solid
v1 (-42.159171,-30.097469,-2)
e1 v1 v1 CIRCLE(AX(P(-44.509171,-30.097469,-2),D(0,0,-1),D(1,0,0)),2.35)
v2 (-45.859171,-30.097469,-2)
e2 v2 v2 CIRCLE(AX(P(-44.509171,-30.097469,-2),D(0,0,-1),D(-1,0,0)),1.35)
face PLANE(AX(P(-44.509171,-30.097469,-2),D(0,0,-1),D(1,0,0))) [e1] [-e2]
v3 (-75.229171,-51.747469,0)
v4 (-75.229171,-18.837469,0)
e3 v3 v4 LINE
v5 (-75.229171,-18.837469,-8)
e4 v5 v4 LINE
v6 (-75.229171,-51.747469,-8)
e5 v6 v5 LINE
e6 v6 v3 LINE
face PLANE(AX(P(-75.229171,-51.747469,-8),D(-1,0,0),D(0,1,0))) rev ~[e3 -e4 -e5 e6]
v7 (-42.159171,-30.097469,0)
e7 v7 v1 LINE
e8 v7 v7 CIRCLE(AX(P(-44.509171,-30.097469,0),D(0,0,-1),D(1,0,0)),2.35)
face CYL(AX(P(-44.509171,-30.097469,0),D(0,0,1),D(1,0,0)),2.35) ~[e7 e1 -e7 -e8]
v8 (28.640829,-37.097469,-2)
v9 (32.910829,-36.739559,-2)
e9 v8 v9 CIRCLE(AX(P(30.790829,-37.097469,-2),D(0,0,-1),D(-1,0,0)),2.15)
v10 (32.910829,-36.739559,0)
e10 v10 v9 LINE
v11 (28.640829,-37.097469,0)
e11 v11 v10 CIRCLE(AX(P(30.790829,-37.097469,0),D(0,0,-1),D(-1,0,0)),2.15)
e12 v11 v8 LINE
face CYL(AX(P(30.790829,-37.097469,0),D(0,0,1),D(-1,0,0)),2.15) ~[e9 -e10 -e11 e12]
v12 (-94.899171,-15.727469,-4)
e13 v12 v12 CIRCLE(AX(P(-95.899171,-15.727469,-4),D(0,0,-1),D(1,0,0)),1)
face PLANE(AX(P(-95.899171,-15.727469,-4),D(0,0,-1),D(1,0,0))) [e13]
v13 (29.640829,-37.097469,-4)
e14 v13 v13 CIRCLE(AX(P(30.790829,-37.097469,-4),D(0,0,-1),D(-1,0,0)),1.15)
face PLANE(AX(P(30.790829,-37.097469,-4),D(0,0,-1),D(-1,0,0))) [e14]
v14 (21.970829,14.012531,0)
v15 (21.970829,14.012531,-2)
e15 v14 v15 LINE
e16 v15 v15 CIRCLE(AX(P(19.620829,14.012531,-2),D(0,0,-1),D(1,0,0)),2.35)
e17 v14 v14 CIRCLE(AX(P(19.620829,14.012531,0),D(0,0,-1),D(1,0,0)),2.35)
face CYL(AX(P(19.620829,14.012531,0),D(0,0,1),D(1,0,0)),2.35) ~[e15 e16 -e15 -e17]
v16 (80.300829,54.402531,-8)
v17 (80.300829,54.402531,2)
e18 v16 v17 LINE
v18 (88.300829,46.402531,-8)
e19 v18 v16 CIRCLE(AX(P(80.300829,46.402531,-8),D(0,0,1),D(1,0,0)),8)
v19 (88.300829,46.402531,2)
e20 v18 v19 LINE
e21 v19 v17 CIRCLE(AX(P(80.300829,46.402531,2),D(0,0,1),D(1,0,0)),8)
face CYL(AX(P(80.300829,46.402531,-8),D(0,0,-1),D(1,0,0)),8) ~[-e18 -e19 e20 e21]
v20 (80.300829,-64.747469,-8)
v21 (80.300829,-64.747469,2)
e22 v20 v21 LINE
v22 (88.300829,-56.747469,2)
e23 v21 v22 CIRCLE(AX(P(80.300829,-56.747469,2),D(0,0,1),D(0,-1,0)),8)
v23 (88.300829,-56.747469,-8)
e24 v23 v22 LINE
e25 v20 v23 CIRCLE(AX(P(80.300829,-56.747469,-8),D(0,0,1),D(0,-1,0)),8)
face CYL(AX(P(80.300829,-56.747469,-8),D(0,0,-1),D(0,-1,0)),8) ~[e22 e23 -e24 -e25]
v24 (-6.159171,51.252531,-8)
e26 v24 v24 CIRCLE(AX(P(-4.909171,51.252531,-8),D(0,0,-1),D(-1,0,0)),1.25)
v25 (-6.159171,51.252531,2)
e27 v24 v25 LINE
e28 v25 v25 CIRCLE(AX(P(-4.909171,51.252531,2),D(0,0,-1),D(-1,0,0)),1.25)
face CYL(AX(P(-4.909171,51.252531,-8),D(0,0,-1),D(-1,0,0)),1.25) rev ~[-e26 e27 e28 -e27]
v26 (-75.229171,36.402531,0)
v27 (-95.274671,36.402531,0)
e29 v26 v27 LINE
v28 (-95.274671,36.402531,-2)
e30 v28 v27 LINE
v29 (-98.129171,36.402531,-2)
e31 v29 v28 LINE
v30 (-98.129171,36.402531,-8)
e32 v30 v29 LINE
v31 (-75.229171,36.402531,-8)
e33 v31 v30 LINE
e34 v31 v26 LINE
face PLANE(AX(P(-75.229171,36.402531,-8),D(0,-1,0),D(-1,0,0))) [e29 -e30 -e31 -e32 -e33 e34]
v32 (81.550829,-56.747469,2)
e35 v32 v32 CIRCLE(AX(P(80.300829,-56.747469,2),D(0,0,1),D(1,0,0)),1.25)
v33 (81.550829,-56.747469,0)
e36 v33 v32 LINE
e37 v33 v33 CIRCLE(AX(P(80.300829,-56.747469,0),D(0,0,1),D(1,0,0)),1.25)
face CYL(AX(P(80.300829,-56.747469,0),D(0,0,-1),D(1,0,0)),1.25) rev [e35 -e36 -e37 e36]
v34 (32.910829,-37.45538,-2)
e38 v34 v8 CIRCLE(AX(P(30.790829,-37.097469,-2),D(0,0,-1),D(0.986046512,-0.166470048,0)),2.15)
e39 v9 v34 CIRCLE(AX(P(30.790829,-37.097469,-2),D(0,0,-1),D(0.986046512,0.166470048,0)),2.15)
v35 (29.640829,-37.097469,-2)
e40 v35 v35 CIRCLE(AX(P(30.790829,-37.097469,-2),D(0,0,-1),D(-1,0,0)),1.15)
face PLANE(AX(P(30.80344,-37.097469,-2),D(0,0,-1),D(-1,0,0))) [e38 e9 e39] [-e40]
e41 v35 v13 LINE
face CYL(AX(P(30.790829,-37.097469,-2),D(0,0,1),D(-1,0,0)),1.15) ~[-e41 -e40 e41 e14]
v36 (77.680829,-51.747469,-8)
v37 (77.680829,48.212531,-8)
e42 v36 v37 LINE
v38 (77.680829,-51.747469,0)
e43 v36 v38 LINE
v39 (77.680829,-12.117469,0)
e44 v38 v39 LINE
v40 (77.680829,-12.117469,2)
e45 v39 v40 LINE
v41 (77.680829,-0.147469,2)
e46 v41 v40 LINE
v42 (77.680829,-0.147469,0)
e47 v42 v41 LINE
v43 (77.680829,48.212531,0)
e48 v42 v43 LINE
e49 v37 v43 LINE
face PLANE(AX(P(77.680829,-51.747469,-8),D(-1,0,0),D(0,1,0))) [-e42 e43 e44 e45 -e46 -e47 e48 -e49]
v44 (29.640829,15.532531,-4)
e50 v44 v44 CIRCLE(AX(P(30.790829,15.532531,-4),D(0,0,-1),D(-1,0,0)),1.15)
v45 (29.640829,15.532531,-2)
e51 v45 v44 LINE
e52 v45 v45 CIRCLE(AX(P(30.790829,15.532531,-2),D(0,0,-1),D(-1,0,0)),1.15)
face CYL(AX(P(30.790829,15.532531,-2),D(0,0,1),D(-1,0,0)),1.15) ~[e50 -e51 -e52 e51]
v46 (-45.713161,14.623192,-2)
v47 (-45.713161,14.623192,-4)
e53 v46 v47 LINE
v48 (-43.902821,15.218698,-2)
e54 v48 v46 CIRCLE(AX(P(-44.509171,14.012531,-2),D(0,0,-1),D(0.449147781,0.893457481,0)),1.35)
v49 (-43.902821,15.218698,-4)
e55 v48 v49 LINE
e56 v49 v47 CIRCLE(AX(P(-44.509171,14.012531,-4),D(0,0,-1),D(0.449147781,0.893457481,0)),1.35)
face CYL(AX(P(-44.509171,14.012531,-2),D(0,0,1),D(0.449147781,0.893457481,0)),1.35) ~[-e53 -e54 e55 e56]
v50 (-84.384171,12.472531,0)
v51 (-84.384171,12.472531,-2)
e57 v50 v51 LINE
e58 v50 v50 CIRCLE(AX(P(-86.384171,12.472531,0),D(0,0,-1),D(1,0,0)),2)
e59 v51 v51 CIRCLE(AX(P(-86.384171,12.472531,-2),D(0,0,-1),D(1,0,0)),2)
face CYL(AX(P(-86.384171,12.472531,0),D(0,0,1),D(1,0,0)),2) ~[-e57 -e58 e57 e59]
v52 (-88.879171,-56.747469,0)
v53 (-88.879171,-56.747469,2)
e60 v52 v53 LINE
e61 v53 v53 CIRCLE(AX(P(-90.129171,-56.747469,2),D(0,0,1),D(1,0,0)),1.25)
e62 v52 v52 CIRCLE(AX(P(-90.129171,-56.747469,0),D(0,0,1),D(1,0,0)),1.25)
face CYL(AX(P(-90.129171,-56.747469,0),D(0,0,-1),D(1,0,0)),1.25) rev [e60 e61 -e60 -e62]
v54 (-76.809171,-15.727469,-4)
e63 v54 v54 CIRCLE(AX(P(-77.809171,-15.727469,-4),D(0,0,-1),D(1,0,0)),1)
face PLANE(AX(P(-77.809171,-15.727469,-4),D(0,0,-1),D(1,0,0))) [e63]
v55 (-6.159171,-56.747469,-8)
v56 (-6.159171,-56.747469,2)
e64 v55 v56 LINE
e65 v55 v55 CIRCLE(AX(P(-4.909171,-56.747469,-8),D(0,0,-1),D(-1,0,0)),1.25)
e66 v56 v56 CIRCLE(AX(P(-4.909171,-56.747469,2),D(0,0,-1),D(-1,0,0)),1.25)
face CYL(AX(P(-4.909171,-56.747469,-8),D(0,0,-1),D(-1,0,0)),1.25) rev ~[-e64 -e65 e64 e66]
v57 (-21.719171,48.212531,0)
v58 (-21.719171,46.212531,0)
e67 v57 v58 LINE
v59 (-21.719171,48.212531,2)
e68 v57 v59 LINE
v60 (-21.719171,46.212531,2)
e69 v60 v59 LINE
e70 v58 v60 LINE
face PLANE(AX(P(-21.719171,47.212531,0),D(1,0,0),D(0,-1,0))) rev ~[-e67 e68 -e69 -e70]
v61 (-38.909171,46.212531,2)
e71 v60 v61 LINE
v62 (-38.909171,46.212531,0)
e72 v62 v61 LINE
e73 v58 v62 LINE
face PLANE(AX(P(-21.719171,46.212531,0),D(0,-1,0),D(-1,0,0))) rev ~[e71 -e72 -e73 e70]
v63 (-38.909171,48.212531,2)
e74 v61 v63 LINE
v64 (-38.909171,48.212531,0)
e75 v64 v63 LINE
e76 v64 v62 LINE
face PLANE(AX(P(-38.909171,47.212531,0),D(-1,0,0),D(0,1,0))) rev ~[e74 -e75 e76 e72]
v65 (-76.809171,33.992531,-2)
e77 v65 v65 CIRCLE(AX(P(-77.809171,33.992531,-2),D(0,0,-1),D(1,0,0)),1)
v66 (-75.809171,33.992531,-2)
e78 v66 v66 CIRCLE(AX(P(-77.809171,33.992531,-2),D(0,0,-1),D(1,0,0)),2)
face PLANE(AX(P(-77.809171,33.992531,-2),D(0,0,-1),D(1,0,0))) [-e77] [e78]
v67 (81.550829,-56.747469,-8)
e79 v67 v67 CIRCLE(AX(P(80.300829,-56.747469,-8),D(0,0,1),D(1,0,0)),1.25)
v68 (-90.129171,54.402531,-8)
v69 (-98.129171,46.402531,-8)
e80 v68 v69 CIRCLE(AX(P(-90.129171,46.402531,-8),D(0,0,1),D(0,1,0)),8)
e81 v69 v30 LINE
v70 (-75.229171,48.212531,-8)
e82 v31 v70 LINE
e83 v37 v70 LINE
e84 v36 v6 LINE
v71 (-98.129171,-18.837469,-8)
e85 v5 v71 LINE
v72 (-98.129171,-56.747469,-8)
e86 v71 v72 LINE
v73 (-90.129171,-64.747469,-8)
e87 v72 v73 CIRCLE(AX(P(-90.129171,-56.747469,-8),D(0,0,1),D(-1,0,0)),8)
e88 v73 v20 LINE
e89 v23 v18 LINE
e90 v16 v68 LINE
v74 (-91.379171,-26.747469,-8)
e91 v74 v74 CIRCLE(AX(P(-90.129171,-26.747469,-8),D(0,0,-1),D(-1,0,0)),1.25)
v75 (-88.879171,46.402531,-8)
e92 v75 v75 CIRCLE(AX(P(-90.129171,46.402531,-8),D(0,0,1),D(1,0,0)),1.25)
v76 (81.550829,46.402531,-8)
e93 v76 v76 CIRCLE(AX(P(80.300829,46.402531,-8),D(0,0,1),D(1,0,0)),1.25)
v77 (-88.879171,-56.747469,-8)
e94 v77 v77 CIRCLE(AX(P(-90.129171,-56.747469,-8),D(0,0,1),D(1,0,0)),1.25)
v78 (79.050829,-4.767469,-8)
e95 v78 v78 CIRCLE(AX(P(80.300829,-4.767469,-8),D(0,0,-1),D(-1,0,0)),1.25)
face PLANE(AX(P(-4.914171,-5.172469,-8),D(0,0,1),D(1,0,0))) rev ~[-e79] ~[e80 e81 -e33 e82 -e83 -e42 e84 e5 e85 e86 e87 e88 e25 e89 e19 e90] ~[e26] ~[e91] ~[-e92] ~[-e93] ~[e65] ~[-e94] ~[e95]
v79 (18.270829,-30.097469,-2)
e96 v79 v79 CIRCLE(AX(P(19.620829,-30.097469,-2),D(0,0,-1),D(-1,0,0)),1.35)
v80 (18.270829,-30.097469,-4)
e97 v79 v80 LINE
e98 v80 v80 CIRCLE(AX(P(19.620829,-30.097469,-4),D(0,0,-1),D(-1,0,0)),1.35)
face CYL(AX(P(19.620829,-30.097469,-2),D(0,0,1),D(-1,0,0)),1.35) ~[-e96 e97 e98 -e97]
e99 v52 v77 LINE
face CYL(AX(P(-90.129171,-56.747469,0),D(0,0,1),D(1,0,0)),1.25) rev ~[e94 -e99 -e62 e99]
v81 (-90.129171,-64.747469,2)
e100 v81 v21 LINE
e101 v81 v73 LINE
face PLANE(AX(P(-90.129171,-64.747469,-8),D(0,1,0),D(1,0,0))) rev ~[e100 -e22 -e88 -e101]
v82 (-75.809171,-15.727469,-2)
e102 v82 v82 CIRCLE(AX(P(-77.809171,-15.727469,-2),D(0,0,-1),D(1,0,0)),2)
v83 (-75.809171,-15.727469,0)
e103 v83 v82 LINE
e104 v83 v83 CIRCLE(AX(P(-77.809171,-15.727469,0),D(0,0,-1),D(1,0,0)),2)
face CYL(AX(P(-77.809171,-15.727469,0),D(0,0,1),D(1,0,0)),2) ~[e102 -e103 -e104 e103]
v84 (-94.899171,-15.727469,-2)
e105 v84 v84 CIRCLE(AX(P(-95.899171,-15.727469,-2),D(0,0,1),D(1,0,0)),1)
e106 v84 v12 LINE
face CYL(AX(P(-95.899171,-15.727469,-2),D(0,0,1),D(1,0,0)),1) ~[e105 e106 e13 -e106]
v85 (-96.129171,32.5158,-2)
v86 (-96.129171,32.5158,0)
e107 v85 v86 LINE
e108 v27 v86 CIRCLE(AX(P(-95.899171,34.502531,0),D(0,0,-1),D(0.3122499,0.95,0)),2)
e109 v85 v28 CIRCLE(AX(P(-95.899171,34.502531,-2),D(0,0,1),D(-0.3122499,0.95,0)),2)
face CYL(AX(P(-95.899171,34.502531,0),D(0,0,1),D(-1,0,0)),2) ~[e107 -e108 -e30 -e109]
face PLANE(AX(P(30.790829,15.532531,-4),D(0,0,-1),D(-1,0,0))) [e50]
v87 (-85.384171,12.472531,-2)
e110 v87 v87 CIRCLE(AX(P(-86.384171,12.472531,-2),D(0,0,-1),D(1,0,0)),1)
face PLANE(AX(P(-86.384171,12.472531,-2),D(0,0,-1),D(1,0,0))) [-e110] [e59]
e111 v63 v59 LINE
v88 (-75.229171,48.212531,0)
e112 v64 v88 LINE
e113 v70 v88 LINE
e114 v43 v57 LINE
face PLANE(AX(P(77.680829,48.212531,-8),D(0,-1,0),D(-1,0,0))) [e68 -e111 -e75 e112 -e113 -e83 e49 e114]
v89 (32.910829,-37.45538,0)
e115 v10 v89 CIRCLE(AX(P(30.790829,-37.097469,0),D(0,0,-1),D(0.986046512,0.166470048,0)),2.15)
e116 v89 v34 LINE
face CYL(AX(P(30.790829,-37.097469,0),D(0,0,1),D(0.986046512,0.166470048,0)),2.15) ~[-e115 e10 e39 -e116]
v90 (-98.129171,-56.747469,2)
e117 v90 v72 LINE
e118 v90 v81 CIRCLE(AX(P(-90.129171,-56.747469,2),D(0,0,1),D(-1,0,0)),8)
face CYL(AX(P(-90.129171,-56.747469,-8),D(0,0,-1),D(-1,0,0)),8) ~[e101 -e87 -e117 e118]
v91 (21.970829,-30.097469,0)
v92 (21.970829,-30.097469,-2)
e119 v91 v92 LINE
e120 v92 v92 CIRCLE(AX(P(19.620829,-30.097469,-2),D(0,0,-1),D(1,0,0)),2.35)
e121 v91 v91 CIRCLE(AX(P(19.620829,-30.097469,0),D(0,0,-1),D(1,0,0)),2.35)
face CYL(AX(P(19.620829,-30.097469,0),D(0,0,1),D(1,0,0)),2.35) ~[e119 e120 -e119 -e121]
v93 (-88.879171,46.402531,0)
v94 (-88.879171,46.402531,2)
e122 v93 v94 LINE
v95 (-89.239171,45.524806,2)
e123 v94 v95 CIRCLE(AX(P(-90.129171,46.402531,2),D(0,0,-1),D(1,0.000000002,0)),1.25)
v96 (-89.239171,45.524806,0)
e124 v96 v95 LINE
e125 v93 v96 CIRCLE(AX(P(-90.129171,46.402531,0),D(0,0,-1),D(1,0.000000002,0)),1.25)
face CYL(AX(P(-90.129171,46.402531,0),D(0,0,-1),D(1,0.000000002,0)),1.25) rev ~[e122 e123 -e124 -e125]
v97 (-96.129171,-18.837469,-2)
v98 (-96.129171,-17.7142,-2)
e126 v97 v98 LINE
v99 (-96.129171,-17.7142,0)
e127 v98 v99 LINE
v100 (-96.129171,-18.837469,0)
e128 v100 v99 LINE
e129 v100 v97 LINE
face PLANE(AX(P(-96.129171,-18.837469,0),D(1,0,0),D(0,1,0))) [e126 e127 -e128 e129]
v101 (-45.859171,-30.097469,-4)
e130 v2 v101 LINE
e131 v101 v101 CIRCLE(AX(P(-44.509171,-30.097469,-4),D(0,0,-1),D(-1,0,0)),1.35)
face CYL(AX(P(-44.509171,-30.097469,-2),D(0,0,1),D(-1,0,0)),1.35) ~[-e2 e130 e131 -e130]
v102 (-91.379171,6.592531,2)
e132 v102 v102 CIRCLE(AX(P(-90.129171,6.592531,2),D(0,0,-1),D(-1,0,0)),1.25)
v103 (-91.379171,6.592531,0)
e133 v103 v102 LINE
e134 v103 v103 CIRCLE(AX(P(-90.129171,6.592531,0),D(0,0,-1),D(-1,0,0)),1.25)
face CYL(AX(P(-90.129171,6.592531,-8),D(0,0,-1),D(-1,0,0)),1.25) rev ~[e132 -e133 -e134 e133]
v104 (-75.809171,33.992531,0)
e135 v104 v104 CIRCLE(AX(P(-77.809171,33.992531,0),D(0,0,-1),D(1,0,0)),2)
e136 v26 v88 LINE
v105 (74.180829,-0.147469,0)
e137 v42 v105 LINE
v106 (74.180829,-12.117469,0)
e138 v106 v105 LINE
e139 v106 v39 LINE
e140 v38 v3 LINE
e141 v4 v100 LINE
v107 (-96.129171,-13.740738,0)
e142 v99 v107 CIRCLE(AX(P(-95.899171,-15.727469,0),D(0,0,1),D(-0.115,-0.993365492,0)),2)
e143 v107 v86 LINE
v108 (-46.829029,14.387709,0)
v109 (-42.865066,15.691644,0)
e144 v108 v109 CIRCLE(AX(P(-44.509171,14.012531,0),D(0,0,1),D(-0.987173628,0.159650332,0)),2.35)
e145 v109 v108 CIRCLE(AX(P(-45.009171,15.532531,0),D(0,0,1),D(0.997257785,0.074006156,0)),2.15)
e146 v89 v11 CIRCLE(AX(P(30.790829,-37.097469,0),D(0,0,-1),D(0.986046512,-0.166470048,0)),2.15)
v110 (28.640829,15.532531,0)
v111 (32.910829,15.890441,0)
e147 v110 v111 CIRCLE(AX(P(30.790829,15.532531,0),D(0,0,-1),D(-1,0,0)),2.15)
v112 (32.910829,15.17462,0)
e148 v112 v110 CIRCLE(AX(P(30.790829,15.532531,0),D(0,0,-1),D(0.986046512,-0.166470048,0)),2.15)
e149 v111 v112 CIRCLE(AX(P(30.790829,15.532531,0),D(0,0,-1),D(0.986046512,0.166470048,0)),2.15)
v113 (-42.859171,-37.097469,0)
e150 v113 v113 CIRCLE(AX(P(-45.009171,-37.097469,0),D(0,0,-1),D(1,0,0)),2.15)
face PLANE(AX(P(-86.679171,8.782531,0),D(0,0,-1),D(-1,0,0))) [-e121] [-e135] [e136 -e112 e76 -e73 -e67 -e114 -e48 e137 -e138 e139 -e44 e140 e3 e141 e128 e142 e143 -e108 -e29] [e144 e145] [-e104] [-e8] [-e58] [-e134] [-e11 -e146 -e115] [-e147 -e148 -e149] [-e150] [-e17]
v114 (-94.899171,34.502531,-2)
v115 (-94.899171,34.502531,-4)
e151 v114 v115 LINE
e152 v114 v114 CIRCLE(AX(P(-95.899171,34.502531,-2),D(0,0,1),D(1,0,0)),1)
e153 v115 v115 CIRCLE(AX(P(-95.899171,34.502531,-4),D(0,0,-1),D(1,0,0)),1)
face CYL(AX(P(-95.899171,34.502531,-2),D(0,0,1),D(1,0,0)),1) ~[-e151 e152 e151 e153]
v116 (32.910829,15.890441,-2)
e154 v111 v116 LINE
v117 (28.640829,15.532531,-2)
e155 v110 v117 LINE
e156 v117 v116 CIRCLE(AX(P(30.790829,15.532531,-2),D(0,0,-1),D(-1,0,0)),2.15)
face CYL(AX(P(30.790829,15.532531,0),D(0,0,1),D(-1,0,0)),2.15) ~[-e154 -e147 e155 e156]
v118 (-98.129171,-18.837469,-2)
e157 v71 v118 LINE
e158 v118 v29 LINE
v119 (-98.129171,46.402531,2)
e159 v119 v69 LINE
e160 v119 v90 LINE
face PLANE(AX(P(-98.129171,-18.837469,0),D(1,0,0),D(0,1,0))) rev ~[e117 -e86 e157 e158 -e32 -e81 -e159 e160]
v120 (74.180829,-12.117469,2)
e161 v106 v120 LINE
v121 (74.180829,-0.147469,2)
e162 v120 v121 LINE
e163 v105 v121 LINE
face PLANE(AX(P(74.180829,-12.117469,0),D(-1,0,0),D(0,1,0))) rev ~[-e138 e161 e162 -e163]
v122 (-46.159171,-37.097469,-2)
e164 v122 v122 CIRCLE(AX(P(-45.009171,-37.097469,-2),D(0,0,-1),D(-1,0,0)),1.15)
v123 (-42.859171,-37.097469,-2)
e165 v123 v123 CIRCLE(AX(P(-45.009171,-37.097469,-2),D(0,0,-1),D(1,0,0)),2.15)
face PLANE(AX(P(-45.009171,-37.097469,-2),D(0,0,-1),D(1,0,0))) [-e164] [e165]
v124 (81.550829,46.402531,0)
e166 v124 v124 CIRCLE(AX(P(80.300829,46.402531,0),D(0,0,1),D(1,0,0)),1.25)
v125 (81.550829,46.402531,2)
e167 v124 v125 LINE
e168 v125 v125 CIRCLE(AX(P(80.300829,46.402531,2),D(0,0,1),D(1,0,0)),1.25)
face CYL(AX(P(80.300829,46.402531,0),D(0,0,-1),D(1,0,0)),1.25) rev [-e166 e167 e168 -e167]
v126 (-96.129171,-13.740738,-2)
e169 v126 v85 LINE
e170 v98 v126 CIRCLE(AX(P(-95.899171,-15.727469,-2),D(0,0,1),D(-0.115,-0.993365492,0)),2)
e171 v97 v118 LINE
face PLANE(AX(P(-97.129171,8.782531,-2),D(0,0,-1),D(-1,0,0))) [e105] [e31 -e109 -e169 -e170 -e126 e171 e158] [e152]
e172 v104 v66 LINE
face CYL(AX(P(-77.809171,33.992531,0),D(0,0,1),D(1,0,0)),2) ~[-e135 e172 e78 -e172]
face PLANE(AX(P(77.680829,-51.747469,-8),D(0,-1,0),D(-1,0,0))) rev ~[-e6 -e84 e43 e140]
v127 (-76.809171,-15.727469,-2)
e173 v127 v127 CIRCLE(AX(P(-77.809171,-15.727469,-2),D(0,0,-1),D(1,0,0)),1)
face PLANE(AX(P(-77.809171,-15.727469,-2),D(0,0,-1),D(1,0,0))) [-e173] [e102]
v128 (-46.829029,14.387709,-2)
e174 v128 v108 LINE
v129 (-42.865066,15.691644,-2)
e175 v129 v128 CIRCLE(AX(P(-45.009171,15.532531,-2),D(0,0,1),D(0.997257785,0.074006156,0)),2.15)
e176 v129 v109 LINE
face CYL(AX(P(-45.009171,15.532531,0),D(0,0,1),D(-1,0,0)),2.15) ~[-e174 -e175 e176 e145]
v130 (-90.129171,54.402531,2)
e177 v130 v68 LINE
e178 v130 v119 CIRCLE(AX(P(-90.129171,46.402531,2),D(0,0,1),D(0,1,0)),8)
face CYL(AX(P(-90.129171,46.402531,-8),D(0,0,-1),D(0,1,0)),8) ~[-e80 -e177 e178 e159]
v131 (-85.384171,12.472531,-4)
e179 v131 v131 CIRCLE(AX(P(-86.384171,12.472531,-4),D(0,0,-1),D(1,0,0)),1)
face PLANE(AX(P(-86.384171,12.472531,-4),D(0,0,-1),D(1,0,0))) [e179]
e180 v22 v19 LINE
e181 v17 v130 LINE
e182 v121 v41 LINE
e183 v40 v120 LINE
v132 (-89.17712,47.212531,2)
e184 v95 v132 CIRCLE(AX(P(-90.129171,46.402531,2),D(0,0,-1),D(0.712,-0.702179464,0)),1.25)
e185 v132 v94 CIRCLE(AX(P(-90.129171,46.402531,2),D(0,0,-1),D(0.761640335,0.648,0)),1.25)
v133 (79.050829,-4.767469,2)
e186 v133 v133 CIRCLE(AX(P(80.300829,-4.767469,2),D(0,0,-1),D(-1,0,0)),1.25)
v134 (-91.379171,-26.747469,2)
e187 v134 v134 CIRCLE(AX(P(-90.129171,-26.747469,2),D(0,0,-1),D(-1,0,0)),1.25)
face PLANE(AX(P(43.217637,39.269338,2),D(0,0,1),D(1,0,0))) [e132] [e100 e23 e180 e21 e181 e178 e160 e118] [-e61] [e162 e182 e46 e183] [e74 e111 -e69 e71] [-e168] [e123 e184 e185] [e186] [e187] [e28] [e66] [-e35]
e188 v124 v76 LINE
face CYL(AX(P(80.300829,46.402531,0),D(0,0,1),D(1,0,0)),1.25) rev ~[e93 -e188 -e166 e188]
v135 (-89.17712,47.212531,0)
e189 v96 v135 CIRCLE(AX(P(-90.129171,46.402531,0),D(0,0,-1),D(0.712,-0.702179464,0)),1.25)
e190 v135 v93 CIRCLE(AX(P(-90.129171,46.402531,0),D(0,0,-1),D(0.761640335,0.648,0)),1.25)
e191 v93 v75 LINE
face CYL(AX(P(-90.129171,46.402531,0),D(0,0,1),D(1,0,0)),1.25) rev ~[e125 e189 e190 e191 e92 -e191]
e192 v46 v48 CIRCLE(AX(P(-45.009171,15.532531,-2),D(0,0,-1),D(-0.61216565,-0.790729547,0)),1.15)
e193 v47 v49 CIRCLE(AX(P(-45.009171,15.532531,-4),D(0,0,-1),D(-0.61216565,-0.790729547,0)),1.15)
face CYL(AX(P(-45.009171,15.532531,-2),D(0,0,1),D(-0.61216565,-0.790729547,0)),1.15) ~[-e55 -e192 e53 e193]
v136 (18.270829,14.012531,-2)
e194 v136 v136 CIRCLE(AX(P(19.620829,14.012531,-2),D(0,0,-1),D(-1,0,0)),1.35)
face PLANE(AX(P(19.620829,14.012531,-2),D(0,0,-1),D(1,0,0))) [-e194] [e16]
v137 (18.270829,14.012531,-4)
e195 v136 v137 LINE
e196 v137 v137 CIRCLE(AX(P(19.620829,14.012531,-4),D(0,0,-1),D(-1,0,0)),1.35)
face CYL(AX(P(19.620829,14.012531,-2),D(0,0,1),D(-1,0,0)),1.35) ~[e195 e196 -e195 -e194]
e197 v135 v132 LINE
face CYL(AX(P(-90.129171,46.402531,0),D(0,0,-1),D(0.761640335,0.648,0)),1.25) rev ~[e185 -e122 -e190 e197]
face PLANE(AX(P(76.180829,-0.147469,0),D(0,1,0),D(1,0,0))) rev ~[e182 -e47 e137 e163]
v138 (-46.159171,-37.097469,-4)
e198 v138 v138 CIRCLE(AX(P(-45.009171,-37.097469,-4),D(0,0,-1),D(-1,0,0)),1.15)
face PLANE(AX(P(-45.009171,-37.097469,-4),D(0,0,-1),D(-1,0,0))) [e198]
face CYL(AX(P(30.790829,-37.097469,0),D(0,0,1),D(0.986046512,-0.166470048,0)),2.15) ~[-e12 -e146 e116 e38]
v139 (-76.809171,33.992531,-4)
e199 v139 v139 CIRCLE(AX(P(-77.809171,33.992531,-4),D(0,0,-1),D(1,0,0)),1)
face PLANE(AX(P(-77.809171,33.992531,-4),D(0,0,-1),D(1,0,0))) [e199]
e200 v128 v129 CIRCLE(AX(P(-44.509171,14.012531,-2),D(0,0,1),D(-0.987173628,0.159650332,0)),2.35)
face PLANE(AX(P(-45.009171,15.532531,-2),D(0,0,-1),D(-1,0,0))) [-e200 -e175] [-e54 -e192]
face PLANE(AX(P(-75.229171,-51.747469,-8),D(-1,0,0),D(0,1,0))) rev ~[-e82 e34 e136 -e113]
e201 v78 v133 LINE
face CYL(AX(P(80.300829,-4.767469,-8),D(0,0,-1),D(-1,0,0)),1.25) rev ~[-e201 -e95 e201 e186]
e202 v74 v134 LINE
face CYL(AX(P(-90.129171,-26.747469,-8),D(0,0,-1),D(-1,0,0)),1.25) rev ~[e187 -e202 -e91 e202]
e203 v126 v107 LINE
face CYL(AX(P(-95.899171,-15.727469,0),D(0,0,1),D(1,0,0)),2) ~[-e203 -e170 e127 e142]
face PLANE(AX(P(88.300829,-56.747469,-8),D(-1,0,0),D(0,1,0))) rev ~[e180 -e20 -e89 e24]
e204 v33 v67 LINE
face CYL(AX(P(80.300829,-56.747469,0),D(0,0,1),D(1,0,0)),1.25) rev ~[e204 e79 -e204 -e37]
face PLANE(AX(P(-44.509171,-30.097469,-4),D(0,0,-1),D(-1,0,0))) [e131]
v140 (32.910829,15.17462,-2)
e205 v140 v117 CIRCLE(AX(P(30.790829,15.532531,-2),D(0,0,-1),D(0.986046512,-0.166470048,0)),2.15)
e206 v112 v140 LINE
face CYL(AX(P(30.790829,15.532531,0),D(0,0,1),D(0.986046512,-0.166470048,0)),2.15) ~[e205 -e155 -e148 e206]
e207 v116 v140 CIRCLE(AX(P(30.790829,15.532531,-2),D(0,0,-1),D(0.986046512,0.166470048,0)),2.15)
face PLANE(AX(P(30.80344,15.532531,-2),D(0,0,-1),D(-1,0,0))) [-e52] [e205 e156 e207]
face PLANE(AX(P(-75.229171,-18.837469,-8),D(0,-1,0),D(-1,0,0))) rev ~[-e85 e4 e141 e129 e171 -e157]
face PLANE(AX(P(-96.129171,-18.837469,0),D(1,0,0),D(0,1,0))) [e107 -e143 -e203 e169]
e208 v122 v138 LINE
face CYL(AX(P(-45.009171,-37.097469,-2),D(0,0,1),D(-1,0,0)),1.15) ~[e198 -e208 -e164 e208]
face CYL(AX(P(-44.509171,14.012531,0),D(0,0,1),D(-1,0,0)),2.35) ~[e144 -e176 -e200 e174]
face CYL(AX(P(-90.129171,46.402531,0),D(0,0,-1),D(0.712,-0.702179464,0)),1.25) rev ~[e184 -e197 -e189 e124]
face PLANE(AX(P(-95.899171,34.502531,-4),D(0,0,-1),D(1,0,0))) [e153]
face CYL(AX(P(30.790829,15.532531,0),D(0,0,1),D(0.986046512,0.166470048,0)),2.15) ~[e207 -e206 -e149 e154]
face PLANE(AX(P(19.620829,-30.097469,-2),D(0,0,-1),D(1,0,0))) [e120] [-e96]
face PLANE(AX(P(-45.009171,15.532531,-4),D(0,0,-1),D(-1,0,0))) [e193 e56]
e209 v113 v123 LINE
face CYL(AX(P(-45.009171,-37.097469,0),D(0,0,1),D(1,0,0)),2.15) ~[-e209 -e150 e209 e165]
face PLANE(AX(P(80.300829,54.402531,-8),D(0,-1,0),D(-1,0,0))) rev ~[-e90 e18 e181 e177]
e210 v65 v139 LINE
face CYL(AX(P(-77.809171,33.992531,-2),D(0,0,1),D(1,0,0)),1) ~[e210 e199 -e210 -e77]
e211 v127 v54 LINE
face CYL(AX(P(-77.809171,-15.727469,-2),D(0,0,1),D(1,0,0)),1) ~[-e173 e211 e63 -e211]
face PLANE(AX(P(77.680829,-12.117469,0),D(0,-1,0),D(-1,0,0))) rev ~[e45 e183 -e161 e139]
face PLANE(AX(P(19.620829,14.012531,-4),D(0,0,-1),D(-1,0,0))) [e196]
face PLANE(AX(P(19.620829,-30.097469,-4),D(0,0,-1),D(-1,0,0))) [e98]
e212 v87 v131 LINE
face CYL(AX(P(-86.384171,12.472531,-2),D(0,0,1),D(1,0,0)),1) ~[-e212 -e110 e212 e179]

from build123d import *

# Parameters (mm, degrees)
SKETCH1_R           = 1.25
SKETCH1_W           = 156.43
SKETCH1_H           = 89.15
BOSS_EXTRUDE3_DEPTH = 2
SKETCH4_R           = 2.15
SKETCH4_R_2         = 1.15
SKETCH4_R_3         = 2.35
SKETCH4_R_4         = 1.35
BOSS_EXTRUDE4_DEPTH = 2
BOSS_EXTRUDE5_START = 2
SKETCH4_3_R         = 1.15
SKETCH4_3_R_2       = 1.35
BOSS_EXTRUDE5_DEPTH = 2
BOSS_EXTRUDE6_START = 8
SKETCH5_W           = 152.91
SKETCH5_H           = 99.96
BOSS_EXTRUDE6_DEPTH = 8
SKETCH7_W           = 22.9
SKETCH7_H           = 55.24
CUT_EXTRUDE3_DEPTH  = 8
BOSS_EXTRUDE7_START = -8
SKETCH7_3_R         = 2
BOSS_EXTRUDE7_DEPTH = 2
BOSS_EXTRUDE8_START = -6
SKETCH7_4_R         = 1
BOSS_EXTRUDE8_DEPTH = 2
SKETCH8_W           = 2
SKETCH8_H           = 55.24
BOSS_EXTRUDE9_DEPTH = 2
SKETCH1_5_R         = 1.25
CUT_EXTRUDE4_DEPTH  = 118.837043793
SKETCH9_R           = 1.25
CUT_EXTRUDE5_DEPTH  = 118.989698237


with BuildPart() as part:
    # Sketch1 → Boss-Extrude3 (new body)
    # profile 1 of 5: a face of its own
    with BuildSketch(Plane.XY):
        with BuildLine():
            ThreePointArc((-90.129170507, 54.402530662), (-95.786024756, 52.059384912), (-98.129170507, 46.402530662))
            Line((-98.129170507, 46.402530662), (-98.129170507, -56.747469338))
            ThreePointArc((-98.129170507, -56.747469338), (-95.786024756, -62.404323587), (-90.129170507, -64.747469338))
            Line((-90.129170507, -64.747469338), (80.300829493, -64.747469338))
            ThreePointArc((80.300829493, -64.747469338), (85.957683743, -62.404323587), (88.300829493, -56.747469338))
            Line((88.300829493, -56.747469338), (88.300829493, 46.402530662))
            ThreePointArc((88.300829493, 46.402530662), (85.957683743, 52.059384912), (80.300829493, 54.402530662))
            Line((80.300829493, 54.402530662), (-90.129170507, 54.402530662))
        make_face()
        with Locations((-90.129170507, -56.747469338)):
            Circle(SKETCH1_R, mode=Mode.SUBTRACT)
        with Locations((80.300829493, -56.747469338)):
            Circle(SKETCH1_R, mode=Mode.SUBTRACT)
        with BuildLine():
            Line((-89.239170507, -53.907469338), (-89.239170507, 45.524806332))
            ThreePointArc((-89.239170507, 45.524806332), (-91.378326538, 46.448456797), (-89.177120088, 47.212530662))
            Line((-89.177120088, 47.212530662), (-38.909170507, 47.212530662))
            Line((-38.909170507, 47.212530662), (-38.909170507, 48.212530662))
            Line((-38.909170507, 48.212530662), (-21.719170507, 48.212530662))
            Line((-21.719170507, 48.212530662), (-21.719170507, 47.212530662))
            Line((-21.719170507, 47.212530662), (76.680829493, 47.212530662))
            Line((76.680829493, 47.212530662), (76.680829493, -0.147469338))
            Line((76.680829493, -0.147469338), (77.680829493, -0.147469338))
            Line((77.680829493, -0.147469338), (77.680829493, -12.117469338))
            Line((77.680829493, -12.117469338), (76.680829493, -12.117469338))
            Line((76.680829493, -12.117469338), (76.680829493, -53.907469338))
            Line((76.680829493, -53.907469338), (-89.239170507, -53.907469338))
        make_face(mode=Mode.SUBTRACT)
        with Locations((80.300829493, 46.402530662)):
            Circle(SKETCH1_R, mode=Mode.SUBTRACT)
    # profile 2 of 5: a face of its own
    with BuildSketch(Plane.XY):
        with BuildLine():
            ThreePointArc((-88.879170507, 46.402530662), (-88.972667156, 45.928189013), (-89.239170507, 45.524806332))
            Line((-89.239170507, 45.524806332), (-89.239170507, -53.907469338))
            Line((-89.239170507, -53.907469338), (76.680829493, -53.907469338))
            Line((76.680829493, -53.907469338), (76.680829493, -12.117469338))
            Line((76.680829493, -12.117469338), (76.180829493, -12.117469338))
            Line((76.180829493, -12.117469338), (76.180829493, -53.407469338))
            Line((76.180829493, -53.407469338), (-88.739170507, -53.407469338))
            Line((-88.739170507, -53.407469338), (-88.739170507, 46.712530662))
            Line((-88.739170507, 46.712530662), (-38.909170507, 46.712530662))
            Line((-38.909170507, 46.712530662), (-38.909170507, 47.212530662))
            Line((-38.909170507, 47.212530662), (-89.177120088, 47.212530662))
            ThreePointArc((-89.177120088, 47.212530662), (-88.956020256, 46.834061065), (-88.879170507, 46.402530662))
        make_face()
    # profile 3 of 5: a face of its own
    with BuildSketch(Plane.XY):
        Polygon((-38.909170507, 46.212530662), (-38.909170507, 46.712530662), (-88.739170507, 46.712530662), (-88.739170507, -53.407469338), (76.180829493, -53.407469338), (76.180829493, -12.117469338), (74.180829493, -12.117469338), (74.180829493, -0.147469338), (76.180829493, -0.147469338), (76.180829493, 46.712530662), (-21.719170507, 46.712530662), (-21.719170507, 46.212530662), align=None)
        with Locations((-4.914170507, -5.172469338)):
            Rectangle(SKETCH1_W, SKETCH1_H, mode=Mode.SUBTRACT)
    # profile 4 of 5: a face of its own
    with BuildSketch(Plane.XY):
        with Locations((-4.914170507, -5.172469338)):
            Rectangle(SKETCH1_W, SKETCH1_H)
    # profile 5 of 5: a face of its own
    with BuildSketch(Plane.XY):
        Polygon((76.680829493, 47.212530662), (-21.719170507, 47.212530662), (-21.719170507, 46.712530662), (76.180829493, 46.712530662), (76.180829493, -0.147469338), (76.680829493, -0.147469338), align=None)
    extrude(amount=BOSS_EXTRUDE3_DEPTH)

    # Sketch4 → Boss-Extrude4 (add)
    # profile 1 of 34: a face of its own
    with BuildSketch(Plane(origin=(0, 0, 0), x_dir=(-1, 0, 0), z_dir=(0, 0, -1))):
        with Locations(Location((45.009170507, -37.097469338, 0), (0, 0, 180))):
            Circle(SKETCH4_R)
        with Locations((45.009170507, -37.097469338)):
            Circle(SKETCH4_R_2, mode=Mode.SUBTRACT)
    # profile 2 of 34: a face of its own
    with BuildSketch(Plane(origin=(0, 0, 0), x_dir=(-1, 0, 0), z_dir=(0, 0, -1))):
        with Locations((45.009170507, -37.097469338)):
            Circle(SKETCH4_R_2)
    # profile 3 of 34: a face of its own
    with BuildSketch(Plane(origin=(0, 0, 0), x_dir=(-1, 0, 0), z_dir=(0, 0, -1))):
        with Locations(Location((44.509170507, -30.097469338, 0), (0, 0, 180))):
            Circle(SKETCH4_R_3)
        with Locations((44.509170507, -30.097469338)):
            Circle(SKETCH4_R_4, mode=Mode.SUBTRACT)
    # profile 4 of 34: a face of its own
    with BuildSketch(Plane(origin=(0, 0, 0), x_dir=(-1, 0, 0), z_dir=(0, 0, -1))):
        with Locations((44.509170507, -30.097469338)):
            Circle(SKETCH4_R_4)
    # profile 5 of 34: a face of its own
    with BuildSketch(Plane(origin=(0, 0, 0), x_dir=(-1, 0, 0), z_dir=(0, 0, -1))):
        with Locations((45.009170507, 15.532530662)):
            Circle(SKETCH4_R)
    # profile 6 of 34: a face of its own
    with BuildSketch(Plane(origin=(0, 0, 0), x_dir=(-1, 0, 0), z_dir=(0, 0, -1))):
        with Locations((44.509170507, 14.012530662)):
            Circle(SKETCH4_R_3)
        with Locations((44.509170507, 14.012530662)):
            Circle(SKETCH4_R_4, mode=Mode.SUBTRACT)
    # profile 7 of 34: a face of its own
    with BuildSketch(Plane(origin=(0, 0, 0), x_dir=(-1, 0, 0), z_dir=(0, 0, -1))):
        with Locations((45.009170507, 15.532530662)):
            Circle(SKETCH4_R)
    # profile 8 of 34: a face of its own
    with BuildSketch(Plane(origin=(0, 0, 0), x_dir=(-1, 0, 0), z_dir=(0, 0, -1))):
        with Locations((45.009170507, 15.532530662)):
            Circle(SKETCH4_R)
    # profile 9 of 34: a face of its own
    with BuildSketch(Plane(origin=(0, 0, 0), x_dir=(-1, 0, 0), z_dir=(0, 0, -1))):
        with Locations((44.509170507, 14.012530662)):
            Circle(SKETCH4_R_3)
        with Locations((44.509170507, 14.012530662)):
            Circle(SKETCH4_R_4, mode=Mode.SUBTRACT)
    # profile 10 of 34: a face of its own
    with BuildSketch(Plane(origin=(0, 0, 0), x_dir=(-1, 0, 0), z_dir=(0, 0, -1))):
        with Locations((45.009170507, 15.532530662)):
            Circle(SKETCH4_R)
        with Locations((45.009170507, 15.532530662)):
            Circle(SKETCH4_R_2, mode=Mode.SUBTRACT)
    # profile 11 of 34: a face of its own
    with BuildSketch(Plane(origin=(0, 0, 0), x_dir=(-1, 0, 0), z_dir=(0, 0, -1))):
        with Locations((44.509170507, 14.012530662)):
            Circle(SKETCH4_R_3)
    # profile 12 of 34: a face of its own
    with BuildSketch(Plane(origin=(0, 0, 0), x_dir=(-1, 0, 0), z_dir=(0, 0, -1))):
        with Locations((44.509170507, 14.012530662)):
            Circle(SKETCH4_R_3)
    # profile 13 of 34: a face of its own
    with BuildSketch(Plane(origin=(0, 0, 0), x_dir=(-1, 0, 0), z_dir=(0, 0, -1))):
        with Locations((44.509170507, 14.012530662)):
            Circle(SKETCH4_R_3)
    # profile 14 of 34: a face of its own
    with BuildSketch(Plane(origin=(0, 0, 0), x_dir=(-1, 0, 0), z_dir=(0, 0, -1))):
        with Locations((45.009170507, 15.532530662)):
            Circle(SKETCH4_R)
        with Locations((45.009170507, 15.532530662)):
            Circle(SKETCH4_R_2, mode=Mode.SUBTRACT)
    # profile 15 of 34: a face of its own
    with BuildSketch(Plane(origin=(0, 0, 0), x_dir=(-1, 0, 0), z_dir=(0, 0, -1))):
        with BuildLine():
            ThreePointArc((-28.640829493, 15.532530662), (-30.611246643, 17.675017535), (-32.910829493, 15.890441266))
            Line((-32.910829493, 15.890441266), (-32.910829493, 15.174620059))
            ThreePointArc((-32.910829493, 15.174620059), (-30.611246643, 13.39004379), (-28.640829493, 15.532530662))
        make_face()
        with Locations((-30.790829493, 15.532530662)):
            Circle(SKETCH4_R_2, mode=Mode.SUBTRACT)
    # profile 16 of 34: a face of its own
    with BuildSketch(Plane(origin=(0, 0, 0), x_dir=(-1, 0, 0), z_dir=(0, 0, -1))):
        with Locations((-30.790829493, 15.532530662)):
            Circle(SKETCH4_R_2)
    # profile 17 of 34: a face of its own
    with BuildSketch(Plane(origin=(0, 0, 0), x_dir=(-1, 0, 0), z_dir=(0, 0, -1))):
        with BuildLine():
            Line((-32.910829493, 15.174620059), (-32.910829493, 15.890441266))
            ThreePointArc((-32.910829493, 15.890441266), (-32.940829493, 15.532530662), (-32.910829493, 15.174620059))
        make_face()
    # profile 18 of 34: a face of its own
    with BuildSketch(Plane(origin=(0, 0, 0), x_dir=(-1, 0, 0), z_dir=(0, 0, -1))):
        with Locations(Location((-19.620829493, 14.012530662, 0), (0, 0, 180))):
            Circle(SKETCH4_R_3)
        with Locations((-19.620829493, 14.012530662)):
            Circle(SKETCH4_R_4, mode=Mode.SUBTRACT)
    # profile 19 of 34: a face of its own
    with BuildSketch(Plane(origin=(0, 0, 0), x_dir=(-1, 0, 0), z_dir=(0, 0, -1))):
        with Locations((-19.620829493, 14.012530662)):
            Circle(SKETCH4_R_4)
    # profile 20 of 34: a face of its own
    with BuildSketch(Plane(origin=(0, 0, 0), x_dir=(-1, 0, 0), z_dir=(0, 0, -1))):
        with BuildLine():
            ThreePointArc((-32.910829493, -36.739558734), (-32.940829493, -37.097469338), (-32.910829493, -37.455379941))
            Line((-32.910829493, -37.455379941), (-32.910829493, -36.739558734))
        make_face()
    # profile 21 of 34: a face of its own
    with BuildSketch(Plane(origin=(0, 0, 0), x_dir=(-1, 0, 0), z_dir=(0, 0, -1))):
        with BuildLine():
            Line((-32.910829493, -36.739558734), (-32.910829493, -37.455379941))
            ThreePointArc((-32.910829493, -37.455379941), (-30.611246643, -39.23995621), (-28.640829493, -37.097469338))
            ThreePointArc((-28.640829493, -37.097469338), (-30.611246643, -34.954982465), (-32.910829493, -36.739558734))
        make_face()
        with Locations((-30.790829493, -37.097469338)):
            Circle(SKETCH4_R_2, mode=Mode.SUBTRACT)
    # profile 22 of 34: a face of its own
    with BuildSketch(Plane(origin=(0, 0, 0), x_dir=(-1, 0, 0), z_dir=(0, 0, -1))):
        with Locations((-30.790829493, -37.097469338)):
            Circle(SKETCH4_R_2)
    # profile 23 of 34: a face of its own
    with BuildSketch(Plane(origin=(0, 0, 0), x_dir=(-1, 0, 0), z_dir=(0, 0, -1))):
        with Locations(Location((-19.620829493, -30.097469338, 0), (0, 0, 180))):
            Circle(SKETCH4_R_3)
        with Locations((-19.620829493, -30.097469338)):
            Circle(SKETCH4_R_4, mode=Mode.SUBTRACT)
    # profile 24 of 34: a face of its own
    with BuildSketch(Plane(origin=(0, 0, 0), x_dir=(-1, 0, 0), z_dir=(0, 0, -1))):
        with Locations((-19.620829493, -30.097469338)):
            Circle(SKETCH4_R_4)
    # profile 25 of 34: a face of its own
    with BuildSketch(Plane(origin=(0, 0, 0), x_dir=(-1, 0, 0), z_dir=(0, 0, -1))):
        with Locations((45.009170507, 15.532530662)):
            Circle(SKETCH4_R)
        with Locations((45.009170507, 15.532530662)):
            Circle(SKETCH4_R_2, mode=Mode.SUBTRACT)
    # profile 26 of 34: a face of its own
    with BuildSketch(Plane(origin=(0, 0, 0), x_dir=(-1, 0, 0), z_dir=(0, 0, -1))):
        with Locations((44.509170507, 14.012530662)):
            Circle(SKETCH4_R_3)
        with Locations((44.509170507, 14.012530662)):
            Circle(SKETCH4_R_4, mode=Mode.SUBTRACT)
    # profile 27 of 34: a face of its own
    with BuildSketch(Plane(origin=(0, 0, 0), x_dir=(-1, 0, 0), z_dir=(0, 0, -1))):
        with Locations((44.509170507, 14.012530662)):
            Circle(SKETCH4_R_3)
        with Locations((44.509170507, 14.012530662)):
            Circle(SKETCH4_R_4, mode=Mode.SUBTRACT)
    # profile 28 of 34: a face of its own
    with BuildSketch(Plane(origin=(0, 0, 0), x_dir=(-1, 0, 0), z_dir=(0, 0, -1))):
        with Locations((44.509170507, 14.012530662)):
            Circle(SKETCH4_R_4)
    # profile 29 of 34: a face of its own
    with BuildSketch(Plane(origin=(0, 0, 0), x_dir=(-1, 0, 0), z_dir=(0, 0, -1))):
        with Locations((44.509170507, 14.012530662)):
            Circle(SKETCH4_R_4)
    # profile 30 of 34: a face of its own
    with BuildSketch(Plane(origin=(0, 0, 0), x_dir=(-1, 0, 0), z_dir=(0, 0, -1))):
        with Locations((44.509170507, 14.012530662)):
            Circle(SKETCH4_R_4)
    # profile 31 of 34: a face of its own
    with BuildSketch(Plane(origin=(0, 0, 0), x_dir=(-1, 0, 0), z_dir=(0, 0, -1))):
        with Locations((45.009170507, 15.532530662)):
            Circle(SKETCH4_R)
        with Locations((45.009170507, 15.532530662)):
            Circle(SKETCH4_R_2, mode=Mode.SUBTRACT)
    # profile 32 of 34: a face of its own
    with BuildSketch(Plane(origin=(0, 0, 0), x_dir=(-1, 0, 0), z_dir=(0, 0, -1))):
        with Locations((45.009170507, 15.532530662)):
            Circle(SKETCH4_R_2)
    # profile 33 of 34: a face of its own
    with BuildSketch(Plane(origin=(0, 0, 0), x_dir=(-1, 0, 0), z_dir=(0, 0, -1))):
        with Locations((45.009170507, 15.532530662)):
            Circle(SKETCH4_R_2)
    # profile 34 of 34: a face of its own
    with BuildSketch(Plane(origin=(0, 0, 0), x_dir=(-1, 0, 0), z_dir=(0, 0, -1))):
        with Locations((45.009170507, 15.532530662)):
            Circle(SKETCH4_R_2)
    extrude(amount=BOSS_EXTRUDE4_DEPTH)

    # Sketch4<3> → Boss-Extrude5 (add)
    with BuildSketch(Plane(origin=(0, 0, 0), x_dir=(-1, 0, 0), z_dir=(0, 0, -1)).offset(BOSS_EXTRUDE5_START)):
        with Locations((-30.790829493, 15.532530662)):
            Circle(SKETCH4_3_R)
        with Locations((-30.790829493, -37.097469338)):
            Circle(SKETCH4_3_R)
        with Locations((45.009170507, -37.097469338)):
            Circle(SKETCH4_3_R)
        with Locations((45.009170507, 15.532530662)):
            Circle(SKETCH4_3_R)
        with Locations((-19.620829493, -30.097469338)):
            Circle(SKETCH4_3_R_2)
        with Locations((-19.620829493, 14.012530662)):
            Circle(SKETCH4_3_R_2)
        with Locations((44.509170507, 14.012530662)):
            Circle(SKETCH4_3_R_2)
        with Locations((44.509170507, -30.097469338)):
            Circle(SKETCH4_3_R_2)
    extrude(amount=BOSS_EXTRUDE5_DEPTH)

    # Sketch5 → Boss-Extrude6 (add)
    with BuildSketch(Plane(origin=(0, 0, 0), x_dir=(-1, 0, 0), z_dir=(0, 0, -1)).offset(BOSS_EXTRUDE6_START)):
        with BuildLine():
            Line((90.129170507, -64.747469338), (-80.300829493, -64.747469338))
            ThreePointArc((-80.300829493, -64.747469338), (-85.957683743, -62.404323587), (-88.300829493, -56.747469338))
            Line((-88.300829493, -56.747469338), (-88.300829493, 46.402530662))
            ThreePointArc((-88.300829493, 46.402530662), (-85.957683743, 52.059384912), (-80.300829493, 54.402530662))
            Line((-80.300829493, 54.402530662), (90.129170507, 54.402530662))
            ThreePointArc((90.129170507, 54.402530662), (95.786024756, 52.059384912), (98.129170507, 46.402530662))
            Line((98.129170507, 46.402530662), (98.129170507, -56.747469338))
            ThreePointArc((98.129170507, -56.747469338), (95.786024756, -62.404323587), (90.129170507, -64.747469338))
        make_face()
        with Locations((-1.225829493, -1.767469338)):
            Rectangle(SKETCH5_W, SKETCH5_H, mode=Mode.SUBTRACT)
    extrude(amount=-BOSS_EXTRUDE6_DEPTH)

    # Sketch7 → Cut-Extrude3 (cut)
    with BuildSketch(Plane(origin=(0, 0, -8), x_dir=(-1, 0, 0), z_dir=(0, 0, -1))):
        with Locations((86.679170507, 8.782530662)):
            Rectangle(SKETCH7_W, SKETCH7_H)
    extrude(amount=-CUT_EXTRUDE3_DEPTH, mode=Mode.SUBTRACT)

    # Sketch7<3> → Boss-Extrude7 (add)
    with BuildSketch(Plane(origin=(0, 0, -8), x_dir=(-1, 0, 0), z_dir=(0, 0, -1)).offset(BOSS_EXTRUDE7_START)):
        with Locations(Location((95.899170507, -15.727469338, 0), (0, 0, 180))):
            Circle(SKETCH7_3_R)
        with Locations(Location((77.809170507, -15.727469338, 0), (0, 0, 180))):
            Circle(SKETCH7_3_R)
        with Locations(Location((77.809170507, 33.992530662, 0), (0, 0, 180))):
            Circle(SKETCH7_3_R)
        with Locations((95.899170507, 34.502530662)):
            Circle(SKETCH7_3_R)
        with Locations(Location((86.384170507, 12.472530662, 0), (0, 0, 180))):
            Circle(SKETCH7_3_R)
    extrude(amount=BOSS_EXTRUDE7_DEPTH)

    # Sketch7<4> → Boss-Extrude8 (add)
    with BuildSketch(Plane(origin=(0, 0, -8), x_dir=(-1, 0, 0), z_dir=(0, 0, -1)).offset(BOSS_EXTRUDE8_START)):
        with Locations(Location((77.809170507, -15.727469338, 0), (0, 0, 180))):
            Circle(SKETCH7_4_R)
        with Locations(Location((86.384170507, 12.472530662, 0), (0, 0, 180))):
            Circle(SKETCH7_4_R)
        with Locations(Location((77.809170507, 33.992530662, 0), (0, 0, 180))):
            Circle(SKETCH7_4_R)
        with Locations(Location((95.899170507, 34.502530662, 0), (0, 0, 180))):
            Circle(SKETCH7_4_R)
        with Locations(Location((95.899170507, -15.727469338, 0), (0, 0, 180))):
            Circle(SKETCH7_4_R)
    extrude(amount=BOSS_EXTRUDE8_DEPTH)

    # Sketch8 → Boss-Extrude9 (add)
    with BuildSketch(Plane(origin=(0, 0, 0), x_dir=(-1, 0, 0), z_dir=(0, 0, -1))):
        with Locations((97.129170507, 8.782530662)):
            Rectangle(SKETCH8_W, SKETCH8_H)
    extrude(amount=BOSS_EXTRUDE9_DEPTH)

    # Sketch1<5> → Cut-Extrude4 (cut, through all)
    with BuildSketch(Plane.XY):
        with Locations((-90.129170507, -56.747469338)):
            Circle(SKETCH1_5_R)
        with Locations((80.300829493, -56.747469338)):
            Circle(SKETCH1_5_R)
        with Locations((80.300829493, 46.402530662)):
            Circle(SKETCH1_5_R)
        with Locations((-90.129170507, 46.402530662)):
            Circle(SKETCH1_5_R)
    extrude(amount=-CUT_EXTRUDE4_DEPTH, mode=Mode.SUBTRACT)

    # Sketch9 → Cut-Extrude5 (cut, through all)
    with BuildSketch(Plane(origin=(0, 0, -8), x_dir=(-1, 0, 0), z_dir=(0, 0, -1))):
        with Locations((-80.300829493, -4.767469338)):
            Circle(SKETCH9_R)
        with Locations((4.909170507, -56.747469338)):
            Circle(SKETCH9_R)
        with Locations((4.909170507, 51.252530662)):
            Circle(SKETCH9_R)
        with Locations((90.129170507, -26.747469338)):
            Circle(SKETCH9_R)
        with Locations((90.129170507, 6.592530662)):
            Circle(SKETCH9_R)
    extrude(amount=-CUT_EXTRUDE5_DEPTH, mode=Mode.SUBTRACT)


solid = part.part
